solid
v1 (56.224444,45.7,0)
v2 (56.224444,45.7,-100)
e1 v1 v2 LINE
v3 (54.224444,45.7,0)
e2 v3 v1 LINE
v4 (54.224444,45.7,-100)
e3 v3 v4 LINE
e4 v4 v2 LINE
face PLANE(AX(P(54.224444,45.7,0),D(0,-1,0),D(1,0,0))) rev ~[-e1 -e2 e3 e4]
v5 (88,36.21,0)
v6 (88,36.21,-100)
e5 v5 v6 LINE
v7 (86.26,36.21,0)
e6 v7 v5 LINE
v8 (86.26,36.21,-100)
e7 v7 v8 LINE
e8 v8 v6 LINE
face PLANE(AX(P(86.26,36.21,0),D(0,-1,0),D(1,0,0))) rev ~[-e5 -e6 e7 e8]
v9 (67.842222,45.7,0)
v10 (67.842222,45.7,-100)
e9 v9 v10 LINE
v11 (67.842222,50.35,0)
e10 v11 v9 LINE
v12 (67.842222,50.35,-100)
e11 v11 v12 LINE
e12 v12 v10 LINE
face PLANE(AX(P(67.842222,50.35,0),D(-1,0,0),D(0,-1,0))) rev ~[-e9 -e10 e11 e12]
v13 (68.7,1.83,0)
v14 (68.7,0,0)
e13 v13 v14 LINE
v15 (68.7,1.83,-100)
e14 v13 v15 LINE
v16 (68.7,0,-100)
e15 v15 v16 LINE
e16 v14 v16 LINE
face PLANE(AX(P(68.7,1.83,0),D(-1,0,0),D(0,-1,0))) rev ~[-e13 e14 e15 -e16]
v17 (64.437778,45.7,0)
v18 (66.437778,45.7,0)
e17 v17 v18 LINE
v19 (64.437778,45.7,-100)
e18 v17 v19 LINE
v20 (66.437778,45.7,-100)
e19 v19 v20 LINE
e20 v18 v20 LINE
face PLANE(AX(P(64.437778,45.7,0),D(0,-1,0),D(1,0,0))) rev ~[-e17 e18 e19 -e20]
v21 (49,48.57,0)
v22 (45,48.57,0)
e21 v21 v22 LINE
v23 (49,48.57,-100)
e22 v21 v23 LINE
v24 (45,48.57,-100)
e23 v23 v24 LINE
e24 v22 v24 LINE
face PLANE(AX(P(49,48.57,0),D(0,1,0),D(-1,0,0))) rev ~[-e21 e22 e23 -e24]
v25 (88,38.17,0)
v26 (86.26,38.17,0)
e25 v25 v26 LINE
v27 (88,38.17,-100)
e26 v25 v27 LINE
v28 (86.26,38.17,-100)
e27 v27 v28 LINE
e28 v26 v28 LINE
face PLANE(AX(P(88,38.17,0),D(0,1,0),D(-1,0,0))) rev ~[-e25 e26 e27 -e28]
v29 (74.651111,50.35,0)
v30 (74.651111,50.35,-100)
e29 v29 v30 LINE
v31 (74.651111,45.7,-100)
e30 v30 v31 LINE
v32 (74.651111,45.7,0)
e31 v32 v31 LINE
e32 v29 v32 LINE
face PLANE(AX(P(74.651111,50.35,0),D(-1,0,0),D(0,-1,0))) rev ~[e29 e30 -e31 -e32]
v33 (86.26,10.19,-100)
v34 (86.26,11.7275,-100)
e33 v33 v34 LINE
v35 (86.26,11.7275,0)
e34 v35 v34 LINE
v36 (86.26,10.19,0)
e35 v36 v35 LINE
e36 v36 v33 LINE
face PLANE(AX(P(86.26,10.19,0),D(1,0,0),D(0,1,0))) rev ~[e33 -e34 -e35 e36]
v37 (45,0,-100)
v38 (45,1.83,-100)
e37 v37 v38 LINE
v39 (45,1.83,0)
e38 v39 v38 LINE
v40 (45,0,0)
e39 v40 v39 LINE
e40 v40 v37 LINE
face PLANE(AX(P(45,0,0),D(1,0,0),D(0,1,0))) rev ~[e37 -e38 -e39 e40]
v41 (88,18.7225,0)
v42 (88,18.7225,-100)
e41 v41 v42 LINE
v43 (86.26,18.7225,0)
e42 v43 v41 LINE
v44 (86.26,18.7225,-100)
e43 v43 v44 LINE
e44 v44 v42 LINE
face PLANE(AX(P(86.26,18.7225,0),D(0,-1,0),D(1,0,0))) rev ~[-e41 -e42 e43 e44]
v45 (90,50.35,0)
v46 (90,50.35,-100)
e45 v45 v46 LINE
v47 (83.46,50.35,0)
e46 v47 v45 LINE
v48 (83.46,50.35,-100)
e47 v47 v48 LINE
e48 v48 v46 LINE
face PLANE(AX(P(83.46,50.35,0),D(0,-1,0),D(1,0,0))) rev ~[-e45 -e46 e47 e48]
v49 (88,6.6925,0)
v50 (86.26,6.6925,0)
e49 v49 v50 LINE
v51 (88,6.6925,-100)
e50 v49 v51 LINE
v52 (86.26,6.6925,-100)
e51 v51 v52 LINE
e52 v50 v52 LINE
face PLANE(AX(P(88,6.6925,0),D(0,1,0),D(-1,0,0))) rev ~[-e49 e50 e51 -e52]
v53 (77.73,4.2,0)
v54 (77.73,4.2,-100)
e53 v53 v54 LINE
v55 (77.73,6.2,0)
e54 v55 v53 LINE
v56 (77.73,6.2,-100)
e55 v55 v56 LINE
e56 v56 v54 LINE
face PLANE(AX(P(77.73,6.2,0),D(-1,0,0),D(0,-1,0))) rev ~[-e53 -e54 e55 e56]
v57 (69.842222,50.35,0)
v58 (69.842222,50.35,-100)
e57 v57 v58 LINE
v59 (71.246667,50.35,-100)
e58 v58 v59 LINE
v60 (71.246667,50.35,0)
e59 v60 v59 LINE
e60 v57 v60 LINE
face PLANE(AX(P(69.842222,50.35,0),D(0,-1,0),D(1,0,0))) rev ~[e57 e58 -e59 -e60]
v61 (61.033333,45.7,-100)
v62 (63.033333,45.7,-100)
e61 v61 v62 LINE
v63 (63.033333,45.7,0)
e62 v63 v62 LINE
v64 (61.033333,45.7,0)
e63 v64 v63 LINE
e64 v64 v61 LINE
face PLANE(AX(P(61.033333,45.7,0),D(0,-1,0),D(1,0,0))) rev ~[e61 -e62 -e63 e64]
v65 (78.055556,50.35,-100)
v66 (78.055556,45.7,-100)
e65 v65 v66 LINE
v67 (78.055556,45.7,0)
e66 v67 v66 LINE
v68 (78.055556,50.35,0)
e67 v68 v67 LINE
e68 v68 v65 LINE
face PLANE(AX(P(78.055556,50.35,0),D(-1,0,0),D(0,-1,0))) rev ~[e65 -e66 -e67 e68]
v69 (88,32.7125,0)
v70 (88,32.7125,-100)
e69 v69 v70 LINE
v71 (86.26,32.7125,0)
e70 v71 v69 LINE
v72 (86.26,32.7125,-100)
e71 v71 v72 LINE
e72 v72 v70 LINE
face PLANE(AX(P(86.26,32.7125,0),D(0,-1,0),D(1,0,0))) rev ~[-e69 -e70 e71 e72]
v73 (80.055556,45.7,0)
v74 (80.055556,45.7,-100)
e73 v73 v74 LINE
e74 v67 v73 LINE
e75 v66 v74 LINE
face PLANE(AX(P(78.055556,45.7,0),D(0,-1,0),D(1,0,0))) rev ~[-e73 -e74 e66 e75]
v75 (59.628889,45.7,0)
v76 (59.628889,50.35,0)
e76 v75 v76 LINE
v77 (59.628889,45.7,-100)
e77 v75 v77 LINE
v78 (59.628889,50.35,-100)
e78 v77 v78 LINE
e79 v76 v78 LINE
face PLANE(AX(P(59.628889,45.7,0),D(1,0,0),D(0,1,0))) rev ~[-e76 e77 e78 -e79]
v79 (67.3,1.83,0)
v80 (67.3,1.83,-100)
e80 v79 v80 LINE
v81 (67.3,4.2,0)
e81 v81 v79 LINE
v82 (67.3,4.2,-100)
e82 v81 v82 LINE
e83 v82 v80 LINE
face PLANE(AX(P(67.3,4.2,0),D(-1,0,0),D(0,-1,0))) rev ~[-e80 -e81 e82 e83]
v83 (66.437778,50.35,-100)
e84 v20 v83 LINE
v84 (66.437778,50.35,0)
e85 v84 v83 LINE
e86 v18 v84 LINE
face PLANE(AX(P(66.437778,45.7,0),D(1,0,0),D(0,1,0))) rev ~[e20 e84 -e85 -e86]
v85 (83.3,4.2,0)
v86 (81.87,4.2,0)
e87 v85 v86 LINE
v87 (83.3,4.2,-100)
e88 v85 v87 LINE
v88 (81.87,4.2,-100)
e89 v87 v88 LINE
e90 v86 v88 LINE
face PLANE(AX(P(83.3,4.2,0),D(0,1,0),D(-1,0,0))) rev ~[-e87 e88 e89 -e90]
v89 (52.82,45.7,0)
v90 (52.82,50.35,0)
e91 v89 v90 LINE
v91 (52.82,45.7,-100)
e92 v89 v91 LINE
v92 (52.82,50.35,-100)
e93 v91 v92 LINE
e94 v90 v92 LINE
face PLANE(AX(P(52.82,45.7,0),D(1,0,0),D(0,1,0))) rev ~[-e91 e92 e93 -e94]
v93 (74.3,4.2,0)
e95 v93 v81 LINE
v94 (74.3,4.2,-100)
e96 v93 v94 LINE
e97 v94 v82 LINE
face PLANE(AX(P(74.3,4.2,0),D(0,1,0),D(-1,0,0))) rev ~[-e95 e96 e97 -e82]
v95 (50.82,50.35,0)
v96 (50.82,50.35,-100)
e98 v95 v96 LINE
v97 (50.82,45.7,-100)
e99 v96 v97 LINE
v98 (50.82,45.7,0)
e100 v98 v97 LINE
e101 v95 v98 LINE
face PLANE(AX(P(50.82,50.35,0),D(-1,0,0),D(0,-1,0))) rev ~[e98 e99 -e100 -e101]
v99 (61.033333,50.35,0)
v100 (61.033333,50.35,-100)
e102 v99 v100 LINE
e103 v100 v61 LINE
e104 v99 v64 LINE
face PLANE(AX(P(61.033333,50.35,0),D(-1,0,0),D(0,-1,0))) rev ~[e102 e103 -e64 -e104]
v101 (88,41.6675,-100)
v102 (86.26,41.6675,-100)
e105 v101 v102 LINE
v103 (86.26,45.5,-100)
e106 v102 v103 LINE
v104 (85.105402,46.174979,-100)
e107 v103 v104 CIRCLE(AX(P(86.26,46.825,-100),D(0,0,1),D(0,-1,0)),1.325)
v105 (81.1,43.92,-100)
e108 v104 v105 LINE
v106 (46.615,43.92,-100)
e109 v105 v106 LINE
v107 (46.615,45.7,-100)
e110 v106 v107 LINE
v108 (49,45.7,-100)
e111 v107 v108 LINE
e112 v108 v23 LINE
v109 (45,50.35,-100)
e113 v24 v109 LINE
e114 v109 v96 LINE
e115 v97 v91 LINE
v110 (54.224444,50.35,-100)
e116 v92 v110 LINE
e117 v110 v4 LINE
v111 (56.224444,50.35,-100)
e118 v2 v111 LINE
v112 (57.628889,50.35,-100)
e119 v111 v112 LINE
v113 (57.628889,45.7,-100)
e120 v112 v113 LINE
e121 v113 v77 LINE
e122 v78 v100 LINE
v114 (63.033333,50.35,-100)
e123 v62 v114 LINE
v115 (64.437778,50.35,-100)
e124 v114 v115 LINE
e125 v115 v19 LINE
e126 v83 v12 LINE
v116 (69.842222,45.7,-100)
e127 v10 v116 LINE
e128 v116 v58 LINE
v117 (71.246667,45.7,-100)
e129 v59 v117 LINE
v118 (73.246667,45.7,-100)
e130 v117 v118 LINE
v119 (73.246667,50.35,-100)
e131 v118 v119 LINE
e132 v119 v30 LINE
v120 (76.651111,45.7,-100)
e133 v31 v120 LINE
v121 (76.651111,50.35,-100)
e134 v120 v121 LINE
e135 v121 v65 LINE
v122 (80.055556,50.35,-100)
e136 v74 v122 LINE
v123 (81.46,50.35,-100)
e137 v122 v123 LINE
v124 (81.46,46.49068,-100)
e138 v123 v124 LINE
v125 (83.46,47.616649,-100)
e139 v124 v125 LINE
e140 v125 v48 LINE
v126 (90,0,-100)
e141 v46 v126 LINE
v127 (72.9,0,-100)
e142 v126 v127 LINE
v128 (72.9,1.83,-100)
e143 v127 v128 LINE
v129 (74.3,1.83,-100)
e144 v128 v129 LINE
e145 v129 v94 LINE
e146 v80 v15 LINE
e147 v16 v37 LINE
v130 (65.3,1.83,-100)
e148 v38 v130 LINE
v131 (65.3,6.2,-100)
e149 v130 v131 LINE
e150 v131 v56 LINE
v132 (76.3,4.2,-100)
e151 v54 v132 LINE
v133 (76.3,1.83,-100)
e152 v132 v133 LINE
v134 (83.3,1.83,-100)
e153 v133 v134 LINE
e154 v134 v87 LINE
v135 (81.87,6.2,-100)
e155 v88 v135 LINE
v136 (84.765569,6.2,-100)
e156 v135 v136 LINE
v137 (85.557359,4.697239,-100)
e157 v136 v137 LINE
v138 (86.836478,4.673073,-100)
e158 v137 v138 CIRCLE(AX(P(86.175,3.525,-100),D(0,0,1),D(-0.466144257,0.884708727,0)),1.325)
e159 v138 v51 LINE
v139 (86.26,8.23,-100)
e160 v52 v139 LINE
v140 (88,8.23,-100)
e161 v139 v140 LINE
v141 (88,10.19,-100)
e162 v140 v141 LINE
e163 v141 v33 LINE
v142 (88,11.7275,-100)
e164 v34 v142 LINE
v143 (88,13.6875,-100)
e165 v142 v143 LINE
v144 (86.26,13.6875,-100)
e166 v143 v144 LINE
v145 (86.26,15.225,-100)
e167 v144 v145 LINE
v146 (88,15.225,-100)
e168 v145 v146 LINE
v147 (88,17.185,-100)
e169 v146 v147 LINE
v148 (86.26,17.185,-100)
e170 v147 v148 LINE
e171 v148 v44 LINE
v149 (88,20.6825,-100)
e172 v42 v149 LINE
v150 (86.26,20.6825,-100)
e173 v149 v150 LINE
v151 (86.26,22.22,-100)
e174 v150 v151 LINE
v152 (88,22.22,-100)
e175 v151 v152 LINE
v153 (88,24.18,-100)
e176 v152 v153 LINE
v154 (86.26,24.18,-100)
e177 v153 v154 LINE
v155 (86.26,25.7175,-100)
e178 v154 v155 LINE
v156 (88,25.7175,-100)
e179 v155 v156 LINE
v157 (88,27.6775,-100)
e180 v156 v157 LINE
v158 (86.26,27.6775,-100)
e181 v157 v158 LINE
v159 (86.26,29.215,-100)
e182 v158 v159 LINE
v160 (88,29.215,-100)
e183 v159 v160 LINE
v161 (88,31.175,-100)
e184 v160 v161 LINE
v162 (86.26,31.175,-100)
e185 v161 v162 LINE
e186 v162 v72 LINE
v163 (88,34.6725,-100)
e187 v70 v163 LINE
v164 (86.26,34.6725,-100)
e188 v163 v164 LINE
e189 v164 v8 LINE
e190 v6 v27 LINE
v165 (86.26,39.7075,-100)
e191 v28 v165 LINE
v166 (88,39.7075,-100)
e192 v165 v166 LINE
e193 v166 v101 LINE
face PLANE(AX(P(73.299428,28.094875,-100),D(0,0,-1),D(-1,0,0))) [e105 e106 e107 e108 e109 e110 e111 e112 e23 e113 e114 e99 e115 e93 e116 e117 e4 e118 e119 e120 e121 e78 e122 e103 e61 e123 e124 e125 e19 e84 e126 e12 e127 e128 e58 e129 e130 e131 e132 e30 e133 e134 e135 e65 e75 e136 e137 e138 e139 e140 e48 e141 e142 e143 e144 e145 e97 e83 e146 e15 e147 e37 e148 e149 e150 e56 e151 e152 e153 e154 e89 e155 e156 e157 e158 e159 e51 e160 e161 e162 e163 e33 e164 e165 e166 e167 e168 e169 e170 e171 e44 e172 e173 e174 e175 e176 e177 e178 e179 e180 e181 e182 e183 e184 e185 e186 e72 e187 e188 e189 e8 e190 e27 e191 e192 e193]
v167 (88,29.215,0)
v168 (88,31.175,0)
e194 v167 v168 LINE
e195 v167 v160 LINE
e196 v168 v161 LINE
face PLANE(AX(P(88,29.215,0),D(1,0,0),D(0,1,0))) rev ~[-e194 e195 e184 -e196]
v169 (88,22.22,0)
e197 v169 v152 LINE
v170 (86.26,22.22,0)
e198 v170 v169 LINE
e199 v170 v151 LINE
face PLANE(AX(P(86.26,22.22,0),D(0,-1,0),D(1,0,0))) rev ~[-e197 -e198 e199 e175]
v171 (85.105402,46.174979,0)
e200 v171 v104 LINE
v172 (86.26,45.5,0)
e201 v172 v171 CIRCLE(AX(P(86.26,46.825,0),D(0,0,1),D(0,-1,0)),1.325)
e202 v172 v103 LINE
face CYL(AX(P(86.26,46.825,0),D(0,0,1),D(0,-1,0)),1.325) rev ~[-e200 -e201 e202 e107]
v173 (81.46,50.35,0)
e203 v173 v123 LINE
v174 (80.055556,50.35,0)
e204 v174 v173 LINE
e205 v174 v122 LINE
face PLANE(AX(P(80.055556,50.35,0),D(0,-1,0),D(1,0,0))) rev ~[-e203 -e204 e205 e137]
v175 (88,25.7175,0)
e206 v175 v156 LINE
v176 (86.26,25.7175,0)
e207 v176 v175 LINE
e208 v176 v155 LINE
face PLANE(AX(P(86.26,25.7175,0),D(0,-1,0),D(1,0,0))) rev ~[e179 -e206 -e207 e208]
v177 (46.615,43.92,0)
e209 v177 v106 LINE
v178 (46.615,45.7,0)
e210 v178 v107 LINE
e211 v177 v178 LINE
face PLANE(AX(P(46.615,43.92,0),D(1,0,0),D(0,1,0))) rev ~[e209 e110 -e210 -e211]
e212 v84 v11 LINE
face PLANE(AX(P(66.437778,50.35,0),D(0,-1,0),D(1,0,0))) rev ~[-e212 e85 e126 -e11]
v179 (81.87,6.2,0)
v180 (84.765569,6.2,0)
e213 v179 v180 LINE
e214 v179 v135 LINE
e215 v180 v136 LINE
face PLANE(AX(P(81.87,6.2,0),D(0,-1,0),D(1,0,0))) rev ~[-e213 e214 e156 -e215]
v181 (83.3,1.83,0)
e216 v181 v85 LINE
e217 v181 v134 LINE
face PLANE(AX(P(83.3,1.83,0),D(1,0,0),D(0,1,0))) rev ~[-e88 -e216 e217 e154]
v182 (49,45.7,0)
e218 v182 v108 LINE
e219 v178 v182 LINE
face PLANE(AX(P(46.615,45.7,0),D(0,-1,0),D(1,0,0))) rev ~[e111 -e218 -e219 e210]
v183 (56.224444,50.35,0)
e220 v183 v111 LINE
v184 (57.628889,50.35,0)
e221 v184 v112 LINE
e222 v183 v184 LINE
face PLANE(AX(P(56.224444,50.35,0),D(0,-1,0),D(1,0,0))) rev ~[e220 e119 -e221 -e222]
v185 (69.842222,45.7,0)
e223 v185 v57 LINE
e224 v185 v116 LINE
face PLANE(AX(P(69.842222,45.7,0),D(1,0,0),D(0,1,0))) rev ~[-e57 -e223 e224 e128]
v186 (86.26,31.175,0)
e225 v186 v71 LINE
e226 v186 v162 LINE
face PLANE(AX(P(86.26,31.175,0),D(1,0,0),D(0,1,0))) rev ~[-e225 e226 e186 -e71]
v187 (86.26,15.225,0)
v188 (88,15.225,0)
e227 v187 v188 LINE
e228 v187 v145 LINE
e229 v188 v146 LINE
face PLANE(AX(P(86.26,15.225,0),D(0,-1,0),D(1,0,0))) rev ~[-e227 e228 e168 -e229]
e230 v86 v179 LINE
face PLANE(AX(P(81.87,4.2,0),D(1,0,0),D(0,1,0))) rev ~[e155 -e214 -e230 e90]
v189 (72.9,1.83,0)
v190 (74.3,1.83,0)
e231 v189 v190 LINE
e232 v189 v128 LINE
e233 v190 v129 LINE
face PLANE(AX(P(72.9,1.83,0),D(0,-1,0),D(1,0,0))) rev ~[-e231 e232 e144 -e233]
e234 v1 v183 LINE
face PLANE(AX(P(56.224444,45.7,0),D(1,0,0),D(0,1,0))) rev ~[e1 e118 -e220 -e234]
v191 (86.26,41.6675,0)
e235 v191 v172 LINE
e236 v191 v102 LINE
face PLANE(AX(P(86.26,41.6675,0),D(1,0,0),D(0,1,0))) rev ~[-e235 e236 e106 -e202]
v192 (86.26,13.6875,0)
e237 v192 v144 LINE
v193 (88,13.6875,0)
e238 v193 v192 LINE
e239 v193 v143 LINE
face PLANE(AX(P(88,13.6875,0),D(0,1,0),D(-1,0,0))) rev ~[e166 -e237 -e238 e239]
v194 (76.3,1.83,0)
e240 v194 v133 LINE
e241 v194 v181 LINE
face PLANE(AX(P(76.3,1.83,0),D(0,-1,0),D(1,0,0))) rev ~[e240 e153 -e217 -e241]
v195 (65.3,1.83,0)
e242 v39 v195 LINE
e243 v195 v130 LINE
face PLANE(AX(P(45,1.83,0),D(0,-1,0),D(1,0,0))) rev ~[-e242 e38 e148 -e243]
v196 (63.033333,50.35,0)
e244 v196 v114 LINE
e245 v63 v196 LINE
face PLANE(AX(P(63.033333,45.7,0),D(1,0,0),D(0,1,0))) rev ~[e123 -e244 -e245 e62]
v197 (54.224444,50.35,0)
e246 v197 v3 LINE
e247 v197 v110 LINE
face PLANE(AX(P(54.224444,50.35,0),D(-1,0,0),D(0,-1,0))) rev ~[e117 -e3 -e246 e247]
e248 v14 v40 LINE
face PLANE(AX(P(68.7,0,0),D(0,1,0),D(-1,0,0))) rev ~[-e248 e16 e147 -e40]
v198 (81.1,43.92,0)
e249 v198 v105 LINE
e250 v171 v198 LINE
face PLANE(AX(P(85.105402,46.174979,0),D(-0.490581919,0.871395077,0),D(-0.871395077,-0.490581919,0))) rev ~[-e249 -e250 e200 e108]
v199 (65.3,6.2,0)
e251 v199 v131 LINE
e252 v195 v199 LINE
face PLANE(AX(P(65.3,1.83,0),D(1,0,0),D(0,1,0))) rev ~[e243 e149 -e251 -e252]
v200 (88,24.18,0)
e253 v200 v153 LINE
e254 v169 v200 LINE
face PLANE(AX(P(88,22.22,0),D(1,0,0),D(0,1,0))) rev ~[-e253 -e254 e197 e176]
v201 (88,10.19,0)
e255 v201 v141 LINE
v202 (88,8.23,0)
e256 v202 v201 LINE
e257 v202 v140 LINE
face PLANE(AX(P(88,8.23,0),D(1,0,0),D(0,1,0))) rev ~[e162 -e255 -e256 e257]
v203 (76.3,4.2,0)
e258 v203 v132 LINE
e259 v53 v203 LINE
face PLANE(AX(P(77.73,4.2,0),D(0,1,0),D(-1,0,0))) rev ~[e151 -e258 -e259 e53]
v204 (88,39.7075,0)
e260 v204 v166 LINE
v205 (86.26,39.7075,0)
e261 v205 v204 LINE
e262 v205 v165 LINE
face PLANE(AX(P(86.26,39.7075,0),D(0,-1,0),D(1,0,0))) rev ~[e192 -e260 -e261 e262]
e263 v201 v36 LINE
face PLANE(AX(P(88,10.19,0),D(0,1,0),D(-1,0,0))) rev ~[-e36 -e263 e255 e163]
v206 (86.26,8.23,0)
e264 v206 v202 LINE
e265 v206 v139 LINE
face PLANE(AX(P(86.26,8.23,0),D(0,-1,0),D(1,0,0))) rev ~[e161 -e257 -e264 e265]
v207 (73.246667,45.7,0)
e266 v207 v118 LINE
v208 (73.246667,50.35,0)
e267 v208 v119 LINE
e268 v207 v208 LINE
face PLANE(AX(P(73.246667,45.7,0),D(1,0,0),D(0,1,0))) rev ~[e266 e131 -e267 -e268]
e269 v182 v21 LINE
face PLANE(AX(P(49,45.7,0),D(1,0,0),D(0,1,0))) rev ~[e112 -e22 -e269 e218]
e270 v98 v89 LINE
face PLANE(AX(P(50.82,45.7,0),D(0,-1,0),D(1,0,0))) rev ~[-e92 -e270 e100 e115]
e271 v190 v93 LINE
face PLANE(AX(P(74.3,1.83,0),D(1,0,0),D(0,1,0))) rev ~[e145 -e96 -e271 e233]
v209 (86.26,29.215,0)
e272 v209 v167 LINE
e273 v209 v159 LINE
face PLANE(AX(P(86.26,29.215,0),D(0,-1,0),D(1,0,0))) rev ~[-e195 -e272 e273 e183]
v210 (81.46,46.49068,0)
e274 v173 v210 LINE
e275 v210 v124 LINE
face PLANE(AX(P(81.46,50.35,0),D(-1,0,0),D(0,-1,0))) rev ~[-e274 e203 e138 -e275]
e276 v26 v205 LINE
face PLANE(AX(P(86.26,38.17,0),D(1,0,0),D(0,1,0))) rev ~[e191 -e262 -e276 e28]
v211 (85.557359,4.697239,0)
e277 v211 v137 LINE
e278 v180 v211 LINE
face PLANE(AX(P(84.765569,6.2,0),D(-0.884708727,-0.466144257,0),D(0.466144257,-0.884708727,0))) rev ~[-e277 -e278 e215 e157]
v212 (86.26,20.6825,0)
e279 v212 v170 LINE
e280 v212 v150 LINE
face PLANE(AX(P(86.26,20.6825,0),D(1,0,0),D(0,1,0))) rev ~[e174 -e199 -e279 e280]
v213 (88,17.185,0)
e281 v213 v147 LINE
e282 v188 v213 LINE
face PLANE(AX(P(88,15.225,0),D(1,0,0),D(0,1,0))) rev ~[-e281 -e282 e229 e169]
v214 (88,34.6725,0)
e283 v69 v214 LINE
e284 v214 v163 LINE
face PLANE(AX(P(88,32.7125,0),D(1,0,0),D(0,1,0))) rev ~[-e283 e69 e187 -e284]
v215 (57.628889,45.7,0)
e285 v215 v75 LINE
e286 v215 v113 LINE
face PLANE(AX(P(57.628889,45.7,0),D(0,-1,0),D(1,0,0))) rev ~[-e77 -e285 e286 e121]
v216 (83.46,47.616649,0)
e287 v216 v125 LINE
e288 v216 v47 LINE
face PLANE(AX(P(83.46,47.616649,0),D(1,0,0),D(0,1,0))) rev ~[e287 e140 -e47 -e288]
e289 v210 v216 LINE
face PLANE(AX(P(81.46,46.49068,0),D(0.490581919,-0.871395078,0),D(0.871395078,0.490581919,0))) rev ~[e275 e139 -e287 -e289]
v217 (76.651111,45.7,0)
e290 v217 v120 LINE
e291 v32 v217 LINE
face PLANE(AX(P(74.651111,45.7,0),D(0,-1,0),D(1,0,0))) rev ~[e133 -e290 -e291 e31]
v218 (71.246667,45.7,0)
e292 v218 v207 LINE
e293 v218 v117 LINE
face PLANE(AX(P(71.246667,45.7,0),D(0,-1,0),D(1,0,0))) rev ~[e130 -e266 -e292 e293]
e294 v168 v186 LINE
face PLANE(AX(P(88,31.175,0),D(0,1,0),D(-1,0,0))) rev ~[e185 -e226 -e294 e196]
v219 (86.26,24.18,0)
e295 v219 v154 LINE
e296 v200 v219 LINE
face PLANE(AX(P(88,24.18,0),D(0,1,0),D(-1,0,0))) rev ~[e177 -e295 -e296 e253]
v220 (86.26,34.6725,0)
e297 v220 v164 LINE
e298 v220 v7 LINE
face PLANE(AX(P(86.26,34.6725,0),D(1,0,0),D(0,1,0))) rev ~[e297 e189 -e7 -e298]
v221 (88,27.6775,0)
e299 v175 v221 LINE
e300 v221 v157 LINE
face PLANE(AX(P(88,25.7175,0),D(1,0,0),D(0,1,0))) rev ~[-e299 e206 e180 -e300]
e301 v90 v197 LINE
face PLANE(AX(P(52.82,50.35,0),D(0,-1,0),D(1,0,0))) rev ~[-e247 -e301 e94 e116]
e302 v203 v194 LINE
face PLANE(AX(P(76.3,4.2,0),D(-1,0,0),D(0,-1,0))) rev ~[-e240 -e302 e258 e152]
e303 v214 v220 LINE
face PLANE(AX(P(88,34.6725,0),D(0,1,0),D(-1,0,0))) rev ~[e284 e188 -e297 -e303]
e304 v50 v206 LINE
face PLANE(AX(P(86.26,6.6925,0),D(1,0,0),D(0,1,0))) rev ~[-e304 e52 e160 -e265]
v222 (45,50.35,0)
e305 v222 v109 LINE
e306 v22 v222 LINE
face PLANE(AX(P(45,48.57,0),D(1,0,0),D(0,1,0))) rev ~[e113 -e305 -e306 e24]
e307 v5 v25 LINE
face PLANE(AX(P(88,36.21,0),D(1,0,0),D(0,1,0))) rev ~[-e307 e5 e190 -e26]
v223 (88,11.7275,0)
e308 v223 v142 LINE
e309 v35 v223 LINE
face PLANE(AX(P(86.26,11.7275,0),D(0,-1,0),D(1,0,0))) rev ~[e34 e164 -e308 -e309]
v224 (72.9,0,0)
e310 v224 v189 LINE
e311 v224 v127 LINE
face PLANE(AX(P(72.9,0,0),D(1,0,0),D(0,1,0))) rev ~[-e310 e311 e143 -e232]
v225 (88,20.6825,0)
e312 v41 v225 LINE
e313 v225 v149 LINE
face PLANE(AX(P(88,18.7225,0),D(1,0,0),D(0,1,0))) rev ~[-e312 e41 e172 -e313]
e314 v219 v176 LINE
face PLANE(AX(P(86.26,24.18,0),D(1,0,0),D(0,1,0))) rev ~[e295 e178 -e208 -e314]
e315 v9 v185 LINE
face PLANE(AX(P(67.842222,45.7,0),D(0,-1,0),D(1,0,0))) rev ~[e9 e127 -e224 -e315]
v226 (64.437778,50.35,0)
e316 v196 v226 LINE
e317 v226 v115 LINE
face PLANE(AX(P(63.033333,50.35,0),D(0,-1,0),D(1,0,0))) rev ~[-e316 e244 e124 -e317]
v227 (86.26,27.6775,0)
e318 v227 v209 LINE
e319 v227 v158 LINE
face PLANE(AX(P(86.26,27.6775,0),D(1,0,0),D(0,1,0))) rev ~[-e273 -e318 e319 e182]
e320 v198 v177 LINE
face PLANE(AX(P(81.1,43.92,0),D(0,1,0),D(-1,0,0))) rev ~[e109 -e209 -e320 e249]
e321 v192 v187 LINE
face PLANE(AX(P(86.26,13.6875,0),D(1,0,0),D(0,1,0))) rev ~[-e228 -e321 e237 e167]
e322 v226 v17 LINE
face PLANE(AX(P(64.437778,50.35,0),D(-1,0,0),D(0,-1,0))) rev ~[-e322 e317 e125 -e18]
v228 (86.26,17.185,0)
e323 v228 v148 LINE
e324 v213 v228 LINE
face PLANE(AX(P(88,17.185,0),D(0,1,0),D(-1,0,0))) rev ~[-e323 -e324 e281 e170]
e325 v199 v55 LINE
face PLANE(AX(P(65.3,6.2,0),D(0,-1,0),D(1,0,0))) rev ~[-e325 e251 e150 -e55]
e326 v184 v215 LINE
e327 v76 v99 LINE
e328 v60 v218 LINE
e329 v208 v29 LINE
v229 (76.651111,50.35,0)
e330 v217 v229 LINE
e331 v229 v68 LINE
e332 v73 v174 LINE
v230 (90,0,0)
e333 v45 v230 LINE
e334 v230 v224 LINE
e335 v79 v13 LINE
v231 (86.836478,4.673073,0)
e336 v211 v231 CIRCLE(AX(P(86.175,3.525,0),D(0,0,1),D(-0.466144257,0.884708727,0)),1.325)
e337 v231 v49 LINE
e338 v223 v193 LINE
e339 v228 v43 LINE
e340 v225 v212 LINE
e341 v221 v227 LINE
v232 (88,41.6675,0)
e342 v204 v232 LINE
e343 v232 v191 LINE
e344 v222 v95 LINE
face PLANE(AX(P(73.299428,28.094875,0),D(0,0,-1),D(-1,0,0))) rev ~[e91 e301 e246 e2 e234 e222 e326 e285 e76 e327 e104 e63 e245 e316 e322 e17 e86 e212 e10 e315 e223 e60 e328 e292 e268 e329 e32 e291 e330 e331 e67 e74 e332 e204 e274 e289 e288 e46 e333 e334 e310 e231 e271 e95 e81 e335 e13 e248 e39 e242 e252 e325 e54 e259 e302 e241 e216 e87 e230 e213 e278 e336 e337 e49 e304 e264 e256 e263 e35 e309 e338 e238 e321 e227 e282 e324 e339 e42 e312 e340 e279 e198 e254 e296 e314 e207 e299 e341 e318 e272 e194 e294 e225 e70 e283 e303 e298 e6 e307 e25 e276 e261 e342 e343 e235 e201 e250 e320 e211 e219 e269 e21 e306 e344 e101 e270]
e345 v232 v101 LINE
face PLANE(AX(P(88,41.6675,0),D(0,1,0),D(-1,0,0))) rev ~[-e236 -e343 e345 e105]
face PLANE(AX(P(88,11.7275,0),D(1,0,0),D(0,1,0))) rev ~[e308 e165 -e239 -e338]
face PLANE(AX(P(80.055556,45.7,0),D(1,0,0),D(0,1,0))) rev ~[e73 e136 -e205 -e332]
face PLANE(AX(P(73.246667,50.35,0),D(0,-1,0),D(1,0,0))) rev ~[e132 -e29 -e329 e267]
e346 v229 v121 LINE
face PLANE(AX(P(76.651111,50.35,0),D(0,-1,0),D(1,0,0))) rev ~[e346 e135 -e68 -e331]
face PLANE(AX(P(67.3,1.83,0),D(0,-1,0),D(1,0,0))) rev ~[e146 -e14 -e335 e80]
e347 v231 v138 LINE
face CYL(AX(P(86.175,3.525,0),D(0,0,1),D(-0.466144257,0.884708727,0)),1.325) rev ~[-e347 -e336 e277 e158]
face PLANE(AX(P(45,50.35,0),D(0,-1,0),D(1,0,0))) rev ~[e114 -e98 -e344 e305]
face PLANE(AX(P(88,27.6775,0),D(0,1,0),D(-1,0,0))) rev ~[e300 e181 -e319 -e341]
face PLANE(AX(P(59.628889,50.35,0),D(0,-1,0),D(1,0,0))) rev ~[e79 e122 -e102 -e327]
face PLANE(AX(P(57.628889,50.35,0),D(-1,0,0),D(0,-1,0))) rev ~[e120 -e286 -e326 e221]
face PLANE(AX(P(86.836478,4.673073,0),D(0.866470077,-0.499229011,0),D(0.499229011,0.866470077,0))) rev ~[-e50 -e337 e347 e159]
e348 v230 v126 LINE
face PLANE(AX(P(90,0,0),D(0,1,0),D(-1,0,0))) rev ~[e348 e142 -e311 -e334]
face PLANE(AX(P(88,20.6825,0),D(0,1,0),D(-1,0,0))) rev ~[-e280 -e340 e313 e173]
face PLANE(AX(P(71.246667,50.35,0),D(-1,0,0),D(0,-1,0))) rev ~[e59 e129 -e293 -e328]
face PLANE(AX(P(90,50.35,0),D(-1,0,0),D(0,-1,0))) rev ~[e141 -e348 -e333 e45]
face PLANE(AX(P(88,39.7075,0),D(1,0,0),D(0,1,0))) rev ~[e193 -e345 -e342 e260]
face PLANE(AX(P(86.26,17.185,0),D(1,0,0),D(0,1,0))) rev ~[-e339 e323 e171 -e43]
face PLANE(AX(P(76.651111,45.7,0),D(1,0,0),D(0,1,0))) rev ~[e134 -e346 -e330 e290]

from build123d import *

# Parameters (mm, degrees)
BOSS_EXTRUDE1_DEPTH = 100


with BuildPart() as part:
    # Sketch2 → Boss-Extrude1 (new body)
    with BuildSketch(Plane(origin=(0, 0, 0), x_dir=(-1, 0, 0), z_dir=(0, 0, -1))):
        with BuildLine():
            Line((-81.1, 43.92), (-46.615, 43.92))
            Line((-46.615, 43.92), (-46.615, 45.7))
            Line((-46.615, 45.7), (-49, 45.7))
            Line((-49, 45.7), (-49, 48.57))
            Line((-49, 48.57), (-45, 48.57))
            Line((-45, 48.57), (-45, 50.35))
            Line((-45, 50.35), (-50.82, 50.35))
            Line((-50.82, 50.35), (-50.82, 45.7))
            Line((-50.82, 45.7), (-52.82, 45.7))
            Line((-52.82, 45.7), (-52.82, 50.35))
            Line((-52.82, 50.35), (-54.224444444, 50.35))
            Line((-54.224444444, 50.35), (-54.224444444, 45.7))
            Line((-54.224444444, 45.7), (-56.224444444, 45.7))
            Line((-56.224444444, 45.7), (-56.224444444, 50.35))
            Line((-56.224444444, 50.35), (-57.628888889, 50.35))
            Line((-57.628888889, 50.35), (-57.628888889, 45.7))
            Line((-57.628888889, 45.7), (-59.628888889, 45.7))
            Line((-59.628888889, 45.7), (-59.628888889, 50.35))
            Line((-59.628888889, 50.35), (-61.033333333, 50.35))
            Line((-61.033333333, 50.35), (-61.033333333, 45.7))
            Line((-61.033333333, 45.7), (-63.033333333, 45.7))
            Line((-63.033333333, 45.7), (-63.033333333, 50.35))
            Line((-63.033333333, 50.35), (-64.437777778, 50.35))
            Line((-64.437777778, 50.35), (-64.437777778, 45.7))
            Line((-64.437777778, 45.7), (-66.437777778, 45.7))
            Line((-66.437777778, 45.7), (-66.437777778, 50.35))
            Line((-66.437777778, 50.35), (-67.842222222, 50.35))
            Line((-67.842222222, 50.35), (-67.842222222, 45.7))
            Line((-67.842222222, 45.7), (-69.842222222, 45.7))
            Line((-69.842222222, 45.7), (-69.842222222, 50.35))
            Line((-69.842222222, 50.35), (-71.246666667, 50.35))
            Line((-71.246666667, 50.35), (-71.246666667, 45.7))
            Line((-71.246666667, 45.7), (-73.246666667, 45.7))
            Line((-73.246666667, 45.7), (-73.246666667, 50.35))
            Line((-73.246666667, 50.35), (-74.651111111, 50.35))
            Line((-74.651111111, 50.35), (-74.651111111, 45.7))
            Line((-74.651111111, 45.7), (-76.651111111, 45.7))
            Line((-76.651111111, 45.7), (-76.651111111, 50.35))
            Line((-76.651111111, 50.35), (-78.055555556, 50.35))
            Line((-78.055555556, 50.35), (-78.055555556, 45.7))
            Line((-78.055555556, 45.7), (-80.055555556, 45.7))
            Line((-80.055555556, 45.7), (-80.055555556, 50.35))
            Line((-80.055555556, 50.35), (-81.46, 50.35))
            Line((-81.46, 50.35), (-81.46, 46.490680448))
            Line((-81.46, 46.490680448), (-83.46, 47.61664944))
            Line((-83.46, 47.61664944), (-83.46, 50.35))
            Line((-83.46, 50.35), (-90, 50.35))
            Line((-90, 50.35), (-90, 0))
            Line((-90, 0), (-72.9, 0))
            Line((-72.9, 0), (-72.9, 1.83))
            Line((-72.9, 1.83), (-74.3, 1.83))
            Line((-74.3, 1.83), (-74.3, 4.2))
            Line((-74.3, 4.2), (-67.3, 4.2))
            Line((-67.3, 4.2), (-67.3, 1.83))
            Line((-67.3, 1.83), (-68.7, 1.83))
            Line((-68.7, 1.83), (-68.7, 0))
            Line((-68.7, 0), (-45, 0))
            Line((-45, 0), (-45, 1.83))
            Line((-45, 1.83), (-65.3, 1.83))
            Line((-65.3, 1.83), (-65.3, 6.2))
            Line((-65.3, 6.2), (-77.73, 6.2))
            Line((-77.73, 6.2), (-77.73, 4.2))
            Line((-77.73, 4.2), (-76.3, 4.2))
            Line((-76.3, 4.2), (-76.3, 1.83))
            Line((-76.3, 1.83), (-83.3, 1.83))
            Line((-83.3, 1.83), (-83.3, 4.2))
            Line((-83.3, 4.2), (-81.87, 4.2))
            Line((-81.87, 4.2), (-81.87, 6.2))
            Line((-81.87, 6.2), (-84.76556902, 6.2))
            Line((-84.76556902, 6.2), (-85.557358859, 4.697239063))
            ThreePointArc((-85.557358859, 4.697239063), (-86.149971444, 2.200236409), (-86.836478439, 4.673072852))
            Line((-86.836478439, 4.673072852), (-88, 6.6925))
            Line((-88, 6.6925), (-86.26, 6.6925))
            Line((-86.26, 6.6925), (-86.26, 8.23))
            Line((-86.26, 8.23), (-88, 8.23))
            Line((-88, 8.23), (-88, 10.19))
            Line((-88, 10.19), (-86.26, 10.19))
            Line((-86.26, 10.19), (-86.26, 11.7275))
            Line((-86.26, 11.7275), (-88, 11.7275))
            Line((-88, 11.7275), (-88, 13.6875))
            Line((-88, 13.6875), (-86.26, 13.6875))
            Line((-86.26, 13.6875), (-86.26, 15.225))
            Line((-86.26, 15.225), (-88, 15.225))
            Line((-88, 15.225), (-88, 17.185))
            Line((-88, 17.185), (-86.26, 17.185))
            Line((-86.26, 17.185), (-86.26, 18.7225))
            Line((-86.26, 18.7225), (-88, 18.7225))
            Line((-88, 18.7225), (-88, 20.6825))
            Line((-88, 20.6825), (-86.26, 20.6825))
            Line((-86.26, 20.6825), (-86.26, 22.22))
            Line((-86.26, 22.22), (-88, 22.22))
            Line((-88, 22.22), (-88, 24.18))
            Line((-88, 24.18), (-86.26, 24.18))
            Line((-86.26, 24.18), (-86.26, 25.7175))
            Line((-86.26, 25.7175), (-88, 25.7175))
            Line((-88, 25.7175), (-88, 27.6775))
            Line((-88, 27.6775), (-86.26, 27.6775))
            Line((-86.26, 27.6775), (-86.26, 29.215))
            Line((-86.26, 29.215), (-88, 29.215))
            Line((-88, 29.215), (-88, 31.175))
            Line((-88, 31.175), (-86.26, 31.175))
            Line((-86.26, 31.175), (-86.26, 32.7125))
            Line((-86.26, 32.7125), (-88, 32.7125))
            Line((-88, 32.7125), (-88, 34.6725))
            Line((-88, 34.6725), (-86.26, 34.6725))
            Line((-86.26, 34.6725), (-86.26, 36.21))
            Line((-86.26, 36.21), (-88, 36.21))
            Line((-88, 36.21), (-88, 38.17))
            Line((-88, 38.17), (-86.26, 38.17))
            Line((-86.26, 38.17), (-86.26, 39.7075))
            Line((-86.26, 39.7075), (-88, 39.7075))
            Line((-88, 39.7075), (-88, 41.6675))
            Line((-88, 41.6675), (-86.26, 41.6675))
            Line((-86.26, 41.6675), (-86.26, 45.5))
            ThreePointArc((-86.26, 45.5), (-86.92871037, 47.968875623), (-85.105401522, 46.174978958))
            Line((-85.105401522, 46.174978958), (-81.1, 43.92))
        make_face()
    extrude(amount=BOSS_EXTRUDE1_DEPTH)


solid = part.part
